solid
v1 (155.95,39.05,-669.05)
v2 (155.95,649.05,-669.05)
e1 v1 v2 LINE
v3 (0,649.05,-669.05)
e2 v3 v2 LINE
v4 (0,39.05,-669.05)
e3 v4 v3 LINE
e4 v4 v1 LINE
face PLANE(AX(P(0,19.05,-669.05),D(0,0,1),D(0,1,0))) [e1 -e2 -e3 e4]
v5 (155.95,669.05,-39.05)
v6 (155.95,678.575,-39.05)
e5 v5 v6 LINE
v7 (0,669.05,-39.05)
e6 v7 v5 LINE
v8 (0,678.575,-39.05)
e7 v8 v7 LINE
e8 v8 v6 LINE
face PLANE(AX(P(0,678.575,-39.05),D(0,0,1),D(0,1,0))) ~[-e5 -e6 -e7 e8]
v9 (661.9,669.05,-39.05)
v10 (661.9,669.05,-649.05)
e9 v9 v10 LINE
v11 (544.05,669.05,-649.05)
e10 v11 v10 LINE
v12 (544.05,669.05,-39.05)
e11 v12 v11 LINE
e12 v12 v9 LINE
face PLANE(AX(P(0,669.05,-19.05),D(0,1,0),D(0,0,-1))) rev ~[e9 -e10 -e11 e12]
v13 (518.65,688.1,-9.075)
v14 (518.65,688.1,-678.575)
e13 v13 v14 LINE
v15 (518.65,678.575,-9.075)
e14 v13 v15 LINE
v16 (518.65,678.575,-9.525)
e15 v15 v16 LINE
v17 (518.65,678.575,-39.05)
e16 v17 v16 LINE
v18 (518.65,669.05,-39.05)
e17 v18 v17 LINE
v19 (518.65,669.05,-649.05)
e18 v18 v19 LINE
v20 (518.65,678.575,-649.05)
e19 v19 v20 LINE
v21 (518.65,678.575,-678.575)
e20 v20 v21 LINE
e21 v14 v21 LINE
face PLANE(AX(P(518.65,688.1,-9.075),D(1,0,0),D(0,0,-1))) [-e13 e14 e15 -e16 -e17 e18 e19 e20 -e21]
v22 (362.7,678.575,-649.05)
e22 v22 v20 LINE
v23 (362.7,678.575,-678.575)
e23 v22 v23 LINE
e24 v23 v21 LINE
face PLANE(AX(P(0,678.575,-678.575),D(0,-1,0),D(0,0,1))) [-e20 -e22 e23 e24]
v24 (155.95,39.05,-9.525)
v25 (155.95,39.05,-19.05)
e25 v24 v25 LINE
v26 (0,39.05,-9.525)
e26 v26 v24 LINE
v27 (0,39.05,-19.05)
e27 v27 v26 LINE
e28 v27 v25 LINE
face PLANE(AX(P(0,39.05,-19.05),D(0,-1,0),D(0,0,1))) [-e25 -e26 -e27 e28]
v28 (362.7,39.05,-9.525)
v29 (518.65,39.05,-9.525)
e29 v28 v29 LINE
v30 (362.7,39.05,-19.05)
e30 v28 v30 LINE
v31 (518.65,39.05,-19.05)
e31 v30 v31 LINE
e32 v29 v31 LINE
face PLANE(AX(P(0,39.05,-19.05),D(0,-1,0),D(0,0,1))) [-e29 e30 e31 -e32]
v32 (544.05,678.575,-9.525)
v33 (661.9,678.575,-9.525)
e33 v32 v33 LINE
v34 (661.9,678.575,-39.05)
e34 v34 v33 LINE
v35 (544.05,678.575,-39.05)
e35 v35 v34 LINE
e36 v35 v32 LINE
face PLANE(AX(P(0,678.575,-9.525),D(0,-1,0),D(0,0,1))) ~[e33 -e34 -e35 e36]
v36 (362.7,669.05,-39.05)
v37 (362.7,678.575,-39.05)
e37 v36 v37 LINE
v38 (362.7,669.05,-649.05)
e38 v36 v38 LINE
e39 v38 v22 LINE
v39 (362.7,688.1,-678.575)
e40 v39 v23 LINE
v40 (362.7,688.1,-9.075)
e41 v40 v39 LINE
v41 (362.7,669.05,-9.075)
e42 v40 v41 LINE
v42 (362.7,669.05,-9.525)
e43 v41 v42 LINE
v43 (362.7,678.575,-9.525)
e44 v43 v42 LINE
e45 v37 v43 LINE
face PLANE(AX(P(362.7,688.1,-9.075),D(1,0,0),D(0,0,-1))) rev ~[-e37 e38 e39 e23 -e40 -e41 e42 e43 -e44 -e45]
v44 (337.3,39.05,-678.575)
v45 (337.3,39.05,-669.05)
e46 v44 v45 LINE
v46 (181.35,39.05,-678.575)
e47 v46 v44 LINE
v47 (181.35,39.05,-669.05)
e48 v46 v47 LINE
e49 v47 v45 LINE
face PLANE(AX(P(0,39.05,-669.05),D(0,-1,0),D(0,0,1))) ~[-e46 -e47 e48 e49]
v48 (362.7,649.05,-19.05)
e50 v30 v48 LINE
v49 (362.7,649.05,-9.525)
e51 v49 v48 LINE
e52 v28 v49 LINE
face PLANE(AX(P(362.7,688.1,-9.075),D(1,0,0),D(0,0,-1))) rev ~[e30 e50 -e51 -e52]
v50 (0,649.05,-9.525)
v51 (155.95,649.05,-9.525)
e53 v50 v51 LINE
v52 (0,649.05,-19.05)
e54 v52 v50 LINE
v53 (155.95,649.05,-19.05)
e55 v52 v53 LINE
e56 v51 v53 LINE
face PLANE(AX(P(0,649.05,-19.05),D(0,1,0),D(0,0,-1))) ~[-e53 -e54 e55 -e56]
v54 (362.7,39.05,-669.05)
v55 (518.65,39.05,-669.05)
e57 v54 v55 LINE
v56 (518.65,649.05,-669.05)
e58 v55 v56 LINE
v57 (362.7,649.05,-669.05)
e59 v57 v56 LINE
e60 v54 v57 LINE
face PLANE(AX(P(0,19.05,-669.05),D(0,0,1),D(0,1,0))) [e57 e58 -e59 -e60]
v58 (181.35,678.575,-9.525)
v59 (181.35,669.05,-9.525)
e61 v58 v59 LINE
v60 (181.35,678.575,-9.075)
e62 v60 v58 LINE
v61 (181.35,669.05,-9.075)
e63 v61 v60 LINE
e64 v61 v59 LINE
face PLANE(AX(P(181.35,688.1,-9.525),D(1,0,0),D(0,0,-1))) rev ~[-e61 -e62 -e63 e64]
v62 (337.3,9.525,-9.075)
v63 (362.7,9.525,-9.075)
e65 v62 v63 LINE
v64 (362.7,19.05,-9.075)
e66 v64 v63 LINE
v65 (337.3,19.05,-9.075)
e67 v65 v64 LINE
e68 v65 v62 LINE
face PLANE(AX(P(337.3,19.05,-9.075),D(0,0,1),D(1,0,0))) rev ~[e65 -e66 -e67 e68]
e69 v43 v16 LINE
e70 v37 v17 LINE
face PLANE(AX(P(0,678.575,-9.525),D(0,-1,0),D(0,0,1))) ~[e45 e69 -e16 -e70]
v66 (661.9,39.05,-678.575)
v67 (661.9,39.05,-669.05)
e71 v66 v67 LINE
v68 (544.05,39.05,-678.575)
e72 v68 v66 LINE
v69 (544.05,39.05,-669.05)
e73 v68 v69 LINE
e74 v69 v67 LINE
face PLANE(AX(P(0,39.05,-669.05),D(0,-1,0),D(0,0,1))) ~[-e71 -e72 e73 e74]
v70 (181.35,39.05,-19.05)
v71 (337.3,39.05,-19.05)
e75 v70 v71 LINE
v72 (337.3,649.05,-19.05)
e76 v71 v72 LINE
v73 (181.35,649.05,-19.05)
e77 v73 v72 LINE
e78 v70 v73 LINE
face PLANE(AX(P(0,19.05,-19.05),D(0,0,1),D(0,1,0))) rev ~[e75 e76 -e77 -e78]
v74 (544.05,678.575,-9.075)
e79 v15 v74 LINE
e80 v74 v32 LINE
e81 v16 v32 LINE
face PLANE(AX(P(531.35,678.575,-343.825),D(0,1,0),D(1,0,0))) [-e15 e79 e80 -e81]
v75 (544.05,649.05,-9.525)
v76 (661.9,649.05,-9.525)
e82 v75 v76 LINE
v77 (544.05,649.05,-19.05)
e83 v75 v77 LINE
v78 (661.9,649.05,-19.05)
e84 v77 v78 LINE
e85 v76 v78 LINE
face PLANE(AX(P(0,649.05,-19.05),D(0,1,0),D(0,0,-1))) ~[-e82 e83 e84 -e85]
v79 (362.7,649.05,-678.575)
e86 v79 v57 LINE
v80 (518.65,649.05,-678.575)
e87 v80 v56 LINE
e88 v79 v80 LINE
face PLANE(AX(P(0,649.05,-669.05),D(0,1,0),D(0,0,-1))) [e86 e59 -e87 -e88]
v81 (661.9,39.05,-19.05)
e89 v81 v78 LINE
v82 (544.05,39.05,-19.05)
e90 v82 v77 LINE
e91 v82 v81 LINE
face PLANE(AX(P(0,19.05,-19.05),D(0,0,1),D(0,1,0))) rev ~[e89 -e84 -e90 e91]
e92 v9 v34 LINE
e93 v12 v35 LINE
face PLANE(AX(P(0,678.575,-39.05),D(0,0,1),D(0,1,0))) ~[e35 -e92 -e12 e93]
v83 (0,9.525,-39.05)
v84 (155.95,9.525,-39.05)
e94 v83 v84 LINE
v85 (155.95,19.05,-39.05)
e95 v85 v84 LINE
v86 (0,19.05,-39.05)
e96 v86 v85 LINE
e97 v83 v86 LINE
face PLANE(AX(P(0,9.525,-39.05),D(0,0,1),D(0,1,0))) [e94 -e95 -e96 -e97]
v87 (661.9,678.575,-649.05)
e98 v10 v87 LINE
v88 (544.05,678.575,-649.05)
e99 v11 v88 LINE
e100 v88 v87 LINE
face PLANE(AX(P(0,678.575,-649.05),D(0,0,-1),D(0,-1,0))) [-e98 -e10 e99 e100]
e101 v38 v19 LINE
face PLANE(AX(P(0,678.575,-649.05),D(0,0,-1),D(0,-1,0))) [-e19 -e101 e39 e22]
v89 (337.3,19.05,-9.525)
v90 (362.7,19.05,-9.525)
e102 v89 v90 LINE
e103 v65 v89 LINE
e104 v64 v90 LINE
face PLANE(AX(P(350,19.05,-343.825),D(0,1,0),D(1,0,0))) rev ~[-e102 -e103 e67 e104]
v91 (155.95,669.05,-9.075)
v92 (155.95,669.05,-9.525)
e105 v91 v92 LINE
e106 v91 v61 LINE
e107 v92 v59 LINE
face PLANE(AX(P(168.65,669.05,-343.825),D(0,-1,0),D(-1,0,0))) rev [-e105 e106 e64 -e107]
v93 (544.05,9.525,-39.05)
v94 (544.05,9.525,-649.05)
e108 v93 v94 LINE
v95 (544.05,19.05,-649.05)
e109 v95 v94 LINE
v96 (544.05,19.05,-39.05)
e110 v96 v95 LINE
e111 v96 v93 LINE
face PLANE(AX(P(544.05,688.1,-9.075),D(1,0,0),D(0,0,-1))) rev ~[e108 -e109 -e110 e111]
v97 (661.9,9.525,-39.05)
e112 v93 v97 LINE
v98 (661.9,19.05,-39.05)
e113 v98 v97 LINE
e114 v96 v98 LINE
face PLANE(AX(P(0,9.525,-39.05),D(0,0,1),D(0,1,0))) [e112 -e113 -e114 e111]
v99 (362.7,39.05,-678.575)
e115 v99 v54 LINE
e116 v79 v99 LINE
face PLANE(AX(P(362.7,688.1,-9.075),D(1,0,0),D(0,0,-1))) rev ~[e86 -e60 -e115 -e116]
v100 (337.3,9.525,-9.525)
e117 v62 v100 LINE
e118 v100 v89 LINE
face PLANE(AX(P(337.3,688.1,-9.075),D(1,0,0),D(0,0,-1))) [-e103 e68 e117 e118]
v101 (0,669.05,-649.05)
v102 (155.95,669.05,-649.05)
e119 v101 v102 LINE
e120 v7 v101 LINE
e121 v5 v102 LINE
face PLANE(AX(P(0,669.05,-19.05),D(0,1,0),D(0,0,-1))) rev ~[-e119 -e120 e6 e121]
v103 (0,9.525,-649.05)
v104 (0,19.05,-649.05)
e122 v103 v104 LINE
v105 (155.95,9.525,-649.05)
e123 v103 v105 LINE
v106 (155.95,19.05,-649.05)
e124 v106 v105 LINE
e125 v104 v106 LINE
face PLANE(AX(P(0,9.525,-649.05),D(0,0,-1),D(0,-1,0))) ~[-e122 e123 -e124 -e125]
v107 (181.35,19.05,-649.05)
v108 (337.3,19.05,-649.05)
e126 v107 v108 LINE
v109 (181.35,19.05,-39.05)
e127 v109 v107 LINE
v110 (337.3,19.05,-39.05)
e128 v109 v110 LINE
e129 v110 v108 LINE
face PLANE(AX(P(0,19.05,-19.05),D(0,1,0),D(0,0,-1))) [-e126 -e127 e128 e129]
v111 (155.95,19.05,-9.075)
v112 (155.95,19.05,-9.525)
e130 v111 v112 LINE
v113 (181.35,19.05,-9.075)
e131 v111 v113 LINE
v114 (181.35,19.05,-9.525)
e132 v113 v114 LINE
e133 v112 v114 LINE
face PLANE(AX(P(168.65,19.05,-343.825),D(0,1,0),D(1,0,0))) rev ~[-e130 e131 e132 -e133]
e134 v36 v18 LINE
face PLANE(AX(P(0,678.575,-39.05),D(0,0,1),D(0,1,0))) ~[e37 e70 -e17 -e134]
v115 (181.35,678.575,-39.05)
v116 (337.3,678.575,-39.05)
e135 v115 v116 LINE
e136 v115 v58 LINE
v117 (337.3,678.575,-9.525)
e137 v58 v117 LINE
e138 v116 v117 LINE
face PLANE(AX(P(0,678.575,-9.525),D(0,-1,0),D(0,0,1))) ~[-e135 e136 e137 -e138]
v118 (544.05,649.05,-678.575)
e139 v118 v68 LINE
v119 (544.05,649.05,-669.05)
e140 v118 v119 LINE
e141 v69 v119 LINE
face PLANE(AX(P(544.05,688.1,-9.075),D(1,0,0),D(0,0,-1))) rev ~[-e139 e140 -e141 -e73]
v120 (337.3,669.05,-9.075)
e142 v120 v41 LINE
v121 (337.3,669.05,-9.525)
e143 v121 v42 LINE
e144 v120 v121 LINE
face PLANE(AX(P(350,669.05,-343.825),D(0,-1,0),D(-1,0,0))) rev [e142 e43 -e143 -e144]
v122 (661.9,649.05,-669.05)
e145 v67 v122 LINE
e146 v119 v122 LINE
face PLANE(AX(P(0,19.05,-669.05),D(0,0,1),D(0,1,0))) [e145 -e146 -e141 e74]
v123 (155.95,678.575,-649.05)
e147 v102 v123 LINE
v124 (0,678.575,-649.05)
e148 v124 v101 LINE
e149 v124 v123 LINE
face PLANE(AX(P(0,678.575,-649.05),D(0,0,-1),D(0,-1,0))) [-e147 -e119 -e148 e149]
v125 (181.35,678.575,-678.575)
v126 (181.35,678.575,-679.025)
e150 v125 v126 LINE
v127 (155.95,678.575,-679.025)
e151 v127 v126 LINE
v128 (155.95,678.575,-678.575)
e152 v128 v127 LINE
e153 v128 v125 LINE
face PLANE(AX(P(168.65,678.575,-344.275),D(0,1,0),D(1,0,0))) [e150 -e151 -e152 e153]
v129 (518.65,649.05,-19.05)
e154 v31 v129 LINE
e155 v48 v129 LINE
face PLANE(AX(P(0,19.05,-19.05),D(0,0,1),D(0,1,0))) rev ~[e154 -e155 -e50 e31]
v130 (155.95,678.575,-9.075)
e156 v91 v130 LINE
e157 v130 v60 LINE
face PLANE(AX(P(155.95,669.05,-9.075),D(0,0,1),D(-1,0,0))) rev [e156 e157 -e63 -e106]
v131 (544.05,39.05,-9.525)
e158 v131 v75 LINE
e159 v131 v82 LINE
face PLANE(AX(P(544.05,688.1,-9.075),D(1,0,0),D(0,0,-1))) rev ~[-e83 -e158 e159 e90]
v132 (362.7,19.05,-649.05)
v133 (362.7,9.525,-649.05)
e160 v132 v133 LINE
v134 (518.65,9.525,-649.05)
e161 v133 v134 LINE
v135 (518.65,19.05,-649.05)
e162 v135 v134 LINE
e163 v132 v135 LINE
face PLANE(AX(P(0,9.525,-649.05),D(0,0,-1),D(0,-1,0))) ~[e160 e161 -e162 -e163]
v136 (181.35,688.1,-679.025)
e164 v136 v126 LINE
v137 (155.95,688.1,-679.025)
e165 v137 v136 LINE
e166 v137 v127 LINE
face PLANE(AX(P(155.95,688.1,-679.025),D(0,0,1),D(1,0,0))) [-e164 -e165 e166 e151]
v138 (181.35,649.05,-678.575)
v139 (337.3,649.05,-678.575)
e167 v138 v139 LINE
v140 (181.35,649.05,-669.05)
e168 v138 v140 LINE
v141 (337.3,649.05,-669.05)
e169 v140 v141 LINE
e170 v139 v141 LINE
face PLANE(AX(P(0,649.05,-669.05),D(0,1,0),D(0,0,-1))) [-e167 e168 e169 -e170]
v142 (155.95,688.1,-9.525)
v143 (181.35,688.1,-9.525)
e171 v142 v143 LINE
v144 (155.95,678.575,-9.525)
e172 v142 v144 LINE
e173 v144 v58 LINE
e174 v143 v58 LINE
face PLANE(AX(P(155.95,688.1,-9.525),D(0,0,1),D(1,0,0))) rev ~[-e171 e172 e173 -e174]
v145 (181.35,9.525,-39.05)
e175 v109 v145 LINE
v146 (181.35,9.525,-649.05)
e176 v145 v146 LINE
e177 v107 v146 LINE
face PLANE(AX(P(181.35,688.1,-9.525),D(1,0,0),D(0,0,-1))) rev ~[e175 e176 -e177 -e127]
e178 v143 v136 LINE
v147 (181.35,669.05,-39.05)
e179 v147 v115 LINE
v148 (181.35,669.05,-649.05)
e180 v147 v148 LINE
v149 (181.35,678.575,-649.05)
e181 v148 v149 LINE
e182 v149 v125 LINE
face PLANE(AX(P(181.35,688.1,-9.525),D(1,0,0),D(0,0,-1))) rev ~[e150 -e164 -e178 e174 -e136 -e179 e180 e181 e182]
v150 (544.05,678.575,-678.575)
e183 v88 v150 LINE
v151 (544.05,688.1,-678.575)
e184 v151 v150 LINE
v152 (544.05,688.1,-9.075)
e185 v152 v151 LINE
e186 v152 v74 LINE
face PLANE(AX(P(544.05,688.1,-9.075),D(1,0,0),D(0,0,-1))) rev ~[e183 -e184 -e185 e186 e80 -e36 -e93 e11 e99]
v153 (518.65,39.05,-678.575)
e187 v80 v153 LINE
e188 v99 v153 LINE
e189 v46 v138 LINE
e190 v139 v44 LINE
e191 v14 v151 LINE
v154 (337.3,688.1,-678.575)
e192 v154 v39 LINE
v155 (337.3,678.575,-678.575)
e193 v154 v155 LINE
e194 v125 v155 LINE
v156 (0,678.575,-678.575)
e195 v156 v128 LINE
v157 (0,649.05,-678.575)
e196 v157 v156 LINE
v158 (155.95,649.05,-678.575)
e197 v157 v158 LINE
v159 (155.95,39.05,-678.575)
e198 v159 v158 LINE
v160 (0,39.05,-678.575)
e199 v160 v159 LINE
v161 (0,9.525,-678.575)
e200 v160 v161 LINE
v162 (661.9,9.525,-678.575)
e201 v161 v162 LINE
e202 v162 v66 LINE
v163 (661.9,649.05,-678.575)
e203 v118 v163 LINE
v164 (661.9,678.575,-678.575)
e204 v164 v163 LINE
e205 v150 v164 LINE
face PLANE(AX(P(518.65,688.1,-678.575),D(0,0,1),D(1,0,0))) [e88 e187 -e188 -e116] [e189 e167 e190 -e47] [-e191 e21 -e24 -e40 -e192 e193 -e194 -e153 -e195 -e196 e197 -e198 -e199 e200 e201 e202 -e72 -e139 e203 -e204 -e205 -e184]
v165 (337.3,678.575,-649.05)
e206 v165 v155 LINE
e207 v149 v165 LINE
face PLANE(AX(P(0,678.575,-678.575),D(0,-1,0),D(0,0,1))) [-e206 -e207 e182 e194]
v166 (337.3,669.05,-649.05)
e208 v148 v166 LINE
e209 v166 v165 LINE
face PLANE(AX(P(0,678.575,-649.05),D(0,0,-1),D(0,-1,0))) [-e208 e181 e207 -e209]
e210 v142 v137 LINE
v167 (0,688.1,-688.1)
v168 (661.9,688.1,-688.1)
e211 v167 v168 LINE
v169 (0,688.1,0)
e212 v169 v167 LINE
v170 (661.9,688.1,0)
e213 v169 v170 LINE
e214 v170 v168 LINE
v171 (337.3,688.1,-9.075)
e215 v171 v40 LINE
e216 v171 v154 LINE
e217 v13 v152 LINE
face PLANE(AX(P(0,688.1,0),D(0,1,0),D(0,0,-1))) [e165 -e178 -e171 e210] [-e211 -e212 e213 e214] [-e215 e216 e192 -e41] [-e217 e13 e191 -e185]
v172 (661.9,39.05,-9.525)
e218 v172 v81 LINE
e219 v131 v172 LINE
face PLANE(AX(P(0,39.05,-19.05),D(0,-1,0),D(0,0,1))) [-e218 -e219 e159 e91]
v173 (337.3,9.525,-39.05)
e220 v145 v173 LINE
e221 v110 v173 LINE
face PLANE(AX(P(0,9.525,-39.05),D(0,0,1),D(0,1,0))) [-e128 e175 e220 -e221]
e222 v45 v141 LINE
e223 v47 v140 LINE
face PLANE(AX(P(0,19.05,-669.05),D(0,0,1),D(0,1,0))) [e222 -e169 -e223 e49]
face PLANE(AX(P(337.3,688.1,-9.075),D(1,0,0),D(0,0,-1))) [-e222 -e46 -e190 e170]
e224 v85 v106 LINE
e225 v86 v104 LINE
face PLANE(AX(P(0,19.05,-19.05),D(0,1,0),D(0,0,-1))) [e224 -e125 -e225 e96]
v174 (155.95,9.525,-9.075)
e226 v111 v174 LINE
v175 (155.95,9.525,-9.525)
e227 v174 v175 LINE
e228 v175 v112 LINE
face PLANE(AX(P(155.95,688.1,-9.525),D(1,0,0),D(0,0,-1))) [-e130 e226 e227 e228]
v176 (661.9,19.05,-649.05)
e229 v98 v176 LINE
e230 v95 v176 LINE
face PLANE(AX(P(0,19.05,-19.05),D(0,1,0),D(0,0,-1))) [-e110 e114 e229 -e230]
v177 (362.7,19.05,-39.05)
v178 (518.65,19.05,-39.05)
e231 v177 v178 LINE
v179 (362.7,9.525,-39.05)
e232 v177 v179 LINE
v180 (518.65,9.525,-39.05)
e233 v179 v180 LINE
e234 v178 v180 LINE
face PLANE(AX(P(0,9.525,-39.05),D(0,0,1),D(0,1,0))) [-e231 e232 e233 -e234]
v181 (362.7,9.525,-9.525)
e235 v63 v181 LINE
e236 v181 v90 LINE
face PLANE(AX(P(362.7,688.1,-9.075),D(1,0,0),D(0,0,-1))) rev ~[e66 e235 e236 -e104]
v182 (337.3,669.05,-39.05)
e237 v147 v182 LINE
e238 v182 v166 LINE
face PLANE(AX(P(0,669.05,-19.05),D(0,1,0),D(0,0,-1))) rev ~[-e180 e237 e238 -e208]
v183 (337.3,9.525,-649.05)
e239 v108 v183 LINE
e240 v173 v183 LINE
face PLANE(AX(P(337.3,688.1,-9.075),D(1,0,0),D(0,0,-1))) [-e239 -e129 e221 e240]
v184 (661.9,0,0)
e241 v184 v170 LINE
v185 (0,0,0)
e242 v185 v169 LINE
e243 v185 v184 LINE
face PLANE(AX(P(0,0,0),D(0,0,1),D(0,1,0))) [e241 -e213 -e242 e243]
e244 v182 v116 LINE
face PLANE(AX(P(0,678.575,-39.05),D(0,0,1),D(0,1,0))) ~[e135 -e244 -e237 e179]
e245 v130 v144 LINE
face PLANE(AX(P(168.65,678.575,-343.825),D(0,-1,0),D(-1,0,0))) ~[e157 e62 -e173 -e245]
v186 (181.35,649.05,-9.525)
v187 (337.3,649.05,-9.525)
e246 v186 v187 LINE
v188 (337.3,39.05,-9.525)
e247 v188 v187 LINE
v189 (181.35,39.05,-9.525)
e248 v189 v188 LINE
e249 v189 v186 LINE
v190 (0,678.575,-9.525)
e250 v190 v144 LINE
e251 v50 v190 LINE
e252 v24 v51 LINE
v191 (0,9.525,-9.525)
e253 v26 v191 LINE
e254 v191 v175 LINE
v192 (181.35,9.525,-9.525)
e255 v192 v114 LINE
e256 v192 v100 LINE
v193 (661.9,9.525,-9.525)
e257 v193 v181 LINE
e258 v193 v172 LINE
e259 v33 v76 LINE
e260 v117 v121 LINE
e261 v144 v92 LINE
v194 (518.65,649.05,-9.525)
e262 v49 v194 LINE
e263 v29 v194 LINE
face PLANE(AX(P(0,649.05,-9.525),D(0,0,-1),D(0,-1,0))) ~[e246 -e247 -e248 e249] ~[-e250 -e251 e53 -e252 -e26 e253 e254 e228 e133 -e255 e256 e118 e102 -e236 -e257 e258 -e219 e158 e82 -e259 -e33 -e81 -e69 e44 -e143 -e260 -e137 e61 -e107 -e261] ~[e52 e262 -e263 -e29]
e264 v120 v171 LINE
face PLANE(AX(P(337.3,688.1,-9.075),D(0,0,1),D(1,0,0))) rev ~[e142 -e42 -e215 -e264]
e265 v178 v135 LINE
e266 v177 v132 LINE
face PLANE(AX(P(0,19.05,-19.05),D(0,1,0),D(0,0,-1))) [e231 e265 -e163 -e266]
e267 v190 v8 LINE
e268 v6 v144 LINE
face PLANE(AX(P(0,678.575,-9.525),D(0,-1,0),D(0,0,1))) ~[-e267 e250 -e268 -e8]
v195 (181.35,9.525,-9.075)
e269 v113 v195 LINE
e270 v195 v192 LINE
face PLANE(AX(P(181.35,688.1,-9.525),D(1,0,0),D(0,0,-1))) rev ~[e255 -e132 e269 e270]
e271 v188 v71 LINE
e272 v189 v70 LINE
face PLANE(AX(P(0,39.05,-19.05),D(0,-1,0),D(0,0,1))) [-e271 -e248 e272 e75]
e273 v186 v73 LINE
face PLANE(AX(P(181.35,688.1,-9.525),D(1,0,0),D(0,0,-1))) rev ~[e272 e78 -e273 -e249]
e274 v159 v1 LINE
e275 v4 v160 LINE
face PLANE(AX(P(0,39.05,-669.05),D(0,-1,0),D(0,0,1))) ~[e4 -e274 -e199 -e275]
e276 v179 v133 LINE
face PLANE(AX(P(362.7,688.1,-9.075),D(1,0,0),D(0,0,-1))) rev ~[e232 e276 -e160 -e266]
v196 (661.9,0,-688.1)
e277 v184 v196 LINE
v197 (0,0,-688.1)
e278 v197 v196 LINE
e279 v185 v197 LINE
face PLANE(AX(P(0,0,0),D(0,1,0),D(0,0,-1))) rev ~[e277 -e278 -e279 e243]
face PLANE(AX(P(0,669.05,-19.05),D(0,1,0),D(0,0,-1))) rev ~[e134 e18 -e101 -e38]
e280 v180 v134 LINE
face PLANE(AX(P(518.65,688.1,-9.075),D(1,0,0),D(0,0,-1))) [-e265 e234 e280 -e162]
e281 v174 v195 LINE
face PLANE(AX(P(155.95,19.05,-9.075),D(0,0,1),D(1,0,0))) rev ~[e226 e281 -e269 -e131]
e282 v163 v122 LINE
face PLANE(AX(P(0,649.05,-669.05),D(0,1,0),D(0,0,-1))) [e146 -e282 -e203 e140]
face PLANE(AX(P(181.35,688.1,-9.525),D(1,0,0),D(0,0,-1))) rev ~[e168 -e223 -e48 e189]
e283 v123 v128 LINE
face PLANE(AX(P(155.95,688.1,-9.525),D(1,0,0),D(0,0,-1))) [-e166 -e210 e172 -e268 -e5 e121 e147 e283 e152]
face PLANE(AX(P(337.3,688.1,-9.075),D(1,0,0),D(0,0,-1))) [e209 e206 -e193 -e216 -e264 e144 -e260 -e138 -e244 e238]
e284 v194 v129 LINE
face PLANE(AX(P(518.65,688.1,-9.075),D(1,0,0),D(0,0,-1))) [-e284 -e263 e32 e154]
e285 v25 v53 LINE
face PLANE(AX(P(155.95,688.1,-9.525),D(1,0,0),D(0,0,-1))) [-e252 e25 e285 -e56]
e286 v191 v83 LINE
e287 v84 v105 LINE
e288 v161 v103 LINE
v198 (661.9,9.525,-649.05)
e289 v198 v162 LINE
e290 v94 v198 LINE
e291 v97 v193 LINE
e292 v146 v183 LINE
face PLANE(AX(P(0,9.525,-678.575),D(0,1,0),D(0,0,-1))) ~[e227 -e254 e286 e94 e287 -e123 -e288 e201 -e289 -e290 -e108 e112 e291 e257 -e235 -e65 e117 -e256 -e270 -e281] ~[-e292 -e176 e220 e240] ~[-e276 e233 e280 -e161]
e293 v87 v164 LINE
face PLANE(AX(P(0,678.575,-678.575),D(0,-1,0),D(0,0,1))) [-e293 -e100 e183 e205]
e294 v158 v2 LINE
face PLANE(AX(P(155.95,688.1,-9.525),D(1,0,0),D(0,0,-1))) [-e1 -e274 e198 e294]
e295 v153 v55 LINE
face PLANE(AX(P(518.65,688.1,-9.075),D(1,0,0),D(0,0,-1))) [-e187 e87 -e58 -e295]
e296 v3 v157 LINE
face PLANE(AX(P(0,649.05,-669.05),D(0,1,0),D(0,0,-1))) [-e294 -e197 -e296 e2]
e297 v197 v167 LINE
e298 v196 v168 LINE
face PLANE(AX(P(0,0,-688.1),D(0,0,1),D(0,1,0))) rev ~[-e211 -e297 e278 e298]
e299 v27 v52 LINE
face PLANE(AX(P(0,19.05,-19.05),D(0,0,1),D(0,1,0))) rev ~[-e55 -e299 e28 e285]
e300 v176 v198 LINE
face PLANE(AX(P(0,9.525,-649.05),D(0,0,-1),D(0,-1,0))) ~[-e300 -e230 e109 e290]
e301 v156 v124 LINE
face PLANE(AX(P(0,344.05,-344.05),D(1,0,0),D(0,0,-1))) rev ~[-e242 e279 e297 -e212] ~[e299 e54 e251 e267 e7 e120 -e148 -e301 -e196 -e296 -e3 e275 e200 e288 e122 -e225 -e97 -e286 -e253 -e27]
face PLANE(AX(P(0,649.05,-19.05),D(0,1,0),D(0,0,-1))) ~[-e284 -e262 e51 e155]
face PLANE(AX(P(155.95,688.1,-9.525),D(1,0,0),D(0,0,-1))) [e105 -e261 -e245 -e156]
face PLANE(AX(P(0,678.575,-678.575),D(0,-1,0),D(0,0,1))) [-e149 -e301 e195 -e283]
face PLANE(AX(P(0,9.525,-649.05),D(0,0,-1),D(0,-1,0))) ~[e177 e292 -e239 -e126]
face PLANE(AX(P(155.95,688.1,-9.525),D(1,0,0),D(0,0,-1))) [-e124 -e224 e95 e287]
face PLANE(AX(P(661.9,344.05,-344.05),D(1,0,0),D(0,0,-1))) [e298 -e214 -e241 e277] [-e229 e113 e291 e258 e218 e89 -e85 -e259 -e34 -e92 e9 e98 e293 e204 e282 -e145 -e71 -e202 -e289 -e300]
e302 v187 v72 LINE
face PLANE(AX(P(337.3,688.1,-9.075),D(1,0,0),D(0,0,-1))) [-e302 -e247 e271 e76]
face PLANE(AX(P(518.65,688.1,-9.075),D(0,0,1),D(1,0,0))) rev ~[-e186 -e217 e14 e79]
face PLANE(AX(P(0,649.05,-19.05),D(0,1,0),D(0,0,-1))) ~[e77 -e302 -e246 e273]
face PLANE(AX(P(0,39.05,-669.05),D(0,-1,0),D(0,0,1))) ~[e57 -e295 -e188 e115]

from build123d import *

# Parameters (mm, degrees)
SKETCH1_W            = 688.1
SKETCH1_H            = 688.1
SKETCH1_W_2          = 650
SKETCH1_H_2          = 650
BOSS_EXTRUDE1_DEPTH  = 661.9
SKETCH3_W            = 25.4
SKETCH3_H            = 650
CUT_EXTRUDE1_DEPTH   = 9.525
SKETCH4_W            = 25.4
SKETCH4_H            = 669.5
SKETCH4_H_2          = 669.05
CUT_EXTRUDE3_DEPTH   = 9.525
SKETCH6_W            = 25.4
SKETCH6_H            = 669.5
CUT_EXTRUDE4_DEPTH   = 9.525
CUT_EXTRUDE5_DEPTH   = 700
MIRROR6_COPY_1_DEPTH = 700


with BuildPart() as part:
    # Sketch1 → Boss-Extrude1 (new body)
    with BuildSketch(Plane(origin=(0, 0, 0), x_dir=(0, 0, -1), z_dir=(1, 0, 0))):
        with Locations((344.05, 344.05)):
            Rectangle(SKETCH1_W, SKETCH1_H)
        with Locations((344.05, 344.05)):
            Rectangle(SKETCH1_W_2, SKETCH1_H_2, mode=Mode.SUBTRACT)
    extrude(amount=BOSS_EXTRUDE1_DEPTH)

    # Sketch3 → Cut-Extrude1 (cut)
    with BuildSketch(Plane.XY.offset(-669.05)):
        with Locations((168.65, 344.05)):
            Rectangle(SKETCH3_W, SKETCH3_H)
        with Locations((350, 344.05)):
            Rectangle(SKETCH3_W, SKETCH3_H)
        with Locations((531.35, 344.05)):
            Rectangle(SKETCH3_W, SKETCH3_H)
    cut_extrude1 = extrude(amount=-CUT_EXTRUDE1_DEPTH, mode=Mode.SUBTRACT)

    # Mirror2: Cut-Extrude1 across plane
    add(cut_extrude1.mirror(Plane(origin=(0, 0, -344.05), x_dir=(1, 0, 0), z_dir=(0, 0, -1))), mode=Mode.SUBTRACT)

    # Sketch4 → Cut-Extrude3 (cut)
    with BuildSketch(Plane(origin=(0, 19.05, 0), x_dir=(1, 0, 0), z_dir=(0, 1, 0))):
        with Locations((168.65, 343.825)):
            Rectangle(SKETCH4_W, SKETCH4_H)
        with Locations((350, 343.825)):
            Rectangle(SKETCH4_W, SKETCH4_H)
        with Locations((531.35, 344.05)):
            Rectangle(SKETCH4_W, SKETCH4_H_2)
    cut_extrude3 = extrude(amount=-CUT_EXTRUDE3_DEPTH, mode=Mode.SUBTRACT)

    # Mirror4: Cut-Extrude3 across plane
    add(cut_extrude3.mirror(Plane.ZX.offset(344.05)), mode=Mode.SUBTRACT)

    # Sketch6 → Cut-Extrude4 (cut)
    with BuildSketch(Plane(origin=(0, 688.1, 0), x_dir=(1, 0, 0), z_dir=(0, 1, 0))):
        with Locations((168.65, 344.275)):
            Rectangle(SKETCH6_W, SKETCH6_H)
        with Locations((350, 343.825)):
            Rectangle(SKETCH6_W, SKETCH6_H)
        with Locations((531.35, 343.825)):
            Rectangle(SKETCH6_W, SKETCH6_H)
    extrude(amount=-CUT_EXTRUDE4_DEPTH, mode=Mode.SUBTRACT)

    # Sketch7 → Cut-Extrude5 (cut)
    with BuildSketch(Plane.ZY):
        Polygon((-19.05, 39.05), (-9.525, 39.05), (-9.525, 9.525), (-39.05, 9.525), (-39.05, 19.05), (-19.05, 19.05), align=None)
    cut_extrude5 = extrude(amount=-CUT_EXTRUDE5_DEPTH, mode=Mode.SUBTRACT)

    # Mirror5: Cut-Extrude5 across plane
    add(cut_extrude5.mirror(Plane(origin=(0, 0, -344.05), x_dir=(1, 0, 0), z_dir=(0, 0, -1))), mode=Mode.SUBTRACT)

    # Mirror6: Cut-Extrude5 across plane
    add(cut_extrude5.mirror(Plane.ZX.offset(344.05)), mode=Mode.SUBTRACT)

    # Mirror6 copy 1 sketch → Mirror6 copy 1 (cut)
    with BuildSketch(Plane(origin=(0, 688.1, -688.1), x_dir=(0, 0, -1), z_dir=(-1, 0, 0))):
        Polygon((-19.05, 39.05), (-9.525, 39.05), (-9.525, 9.525), (-39.05, 9.525), (-39.05, 19.05), (-19.05, 19.05), align=None)
    extrude(amount=-MIRROR6_COPY_1_DEPTH, mode=Mode.SUBTRACT)


solid = part.part
